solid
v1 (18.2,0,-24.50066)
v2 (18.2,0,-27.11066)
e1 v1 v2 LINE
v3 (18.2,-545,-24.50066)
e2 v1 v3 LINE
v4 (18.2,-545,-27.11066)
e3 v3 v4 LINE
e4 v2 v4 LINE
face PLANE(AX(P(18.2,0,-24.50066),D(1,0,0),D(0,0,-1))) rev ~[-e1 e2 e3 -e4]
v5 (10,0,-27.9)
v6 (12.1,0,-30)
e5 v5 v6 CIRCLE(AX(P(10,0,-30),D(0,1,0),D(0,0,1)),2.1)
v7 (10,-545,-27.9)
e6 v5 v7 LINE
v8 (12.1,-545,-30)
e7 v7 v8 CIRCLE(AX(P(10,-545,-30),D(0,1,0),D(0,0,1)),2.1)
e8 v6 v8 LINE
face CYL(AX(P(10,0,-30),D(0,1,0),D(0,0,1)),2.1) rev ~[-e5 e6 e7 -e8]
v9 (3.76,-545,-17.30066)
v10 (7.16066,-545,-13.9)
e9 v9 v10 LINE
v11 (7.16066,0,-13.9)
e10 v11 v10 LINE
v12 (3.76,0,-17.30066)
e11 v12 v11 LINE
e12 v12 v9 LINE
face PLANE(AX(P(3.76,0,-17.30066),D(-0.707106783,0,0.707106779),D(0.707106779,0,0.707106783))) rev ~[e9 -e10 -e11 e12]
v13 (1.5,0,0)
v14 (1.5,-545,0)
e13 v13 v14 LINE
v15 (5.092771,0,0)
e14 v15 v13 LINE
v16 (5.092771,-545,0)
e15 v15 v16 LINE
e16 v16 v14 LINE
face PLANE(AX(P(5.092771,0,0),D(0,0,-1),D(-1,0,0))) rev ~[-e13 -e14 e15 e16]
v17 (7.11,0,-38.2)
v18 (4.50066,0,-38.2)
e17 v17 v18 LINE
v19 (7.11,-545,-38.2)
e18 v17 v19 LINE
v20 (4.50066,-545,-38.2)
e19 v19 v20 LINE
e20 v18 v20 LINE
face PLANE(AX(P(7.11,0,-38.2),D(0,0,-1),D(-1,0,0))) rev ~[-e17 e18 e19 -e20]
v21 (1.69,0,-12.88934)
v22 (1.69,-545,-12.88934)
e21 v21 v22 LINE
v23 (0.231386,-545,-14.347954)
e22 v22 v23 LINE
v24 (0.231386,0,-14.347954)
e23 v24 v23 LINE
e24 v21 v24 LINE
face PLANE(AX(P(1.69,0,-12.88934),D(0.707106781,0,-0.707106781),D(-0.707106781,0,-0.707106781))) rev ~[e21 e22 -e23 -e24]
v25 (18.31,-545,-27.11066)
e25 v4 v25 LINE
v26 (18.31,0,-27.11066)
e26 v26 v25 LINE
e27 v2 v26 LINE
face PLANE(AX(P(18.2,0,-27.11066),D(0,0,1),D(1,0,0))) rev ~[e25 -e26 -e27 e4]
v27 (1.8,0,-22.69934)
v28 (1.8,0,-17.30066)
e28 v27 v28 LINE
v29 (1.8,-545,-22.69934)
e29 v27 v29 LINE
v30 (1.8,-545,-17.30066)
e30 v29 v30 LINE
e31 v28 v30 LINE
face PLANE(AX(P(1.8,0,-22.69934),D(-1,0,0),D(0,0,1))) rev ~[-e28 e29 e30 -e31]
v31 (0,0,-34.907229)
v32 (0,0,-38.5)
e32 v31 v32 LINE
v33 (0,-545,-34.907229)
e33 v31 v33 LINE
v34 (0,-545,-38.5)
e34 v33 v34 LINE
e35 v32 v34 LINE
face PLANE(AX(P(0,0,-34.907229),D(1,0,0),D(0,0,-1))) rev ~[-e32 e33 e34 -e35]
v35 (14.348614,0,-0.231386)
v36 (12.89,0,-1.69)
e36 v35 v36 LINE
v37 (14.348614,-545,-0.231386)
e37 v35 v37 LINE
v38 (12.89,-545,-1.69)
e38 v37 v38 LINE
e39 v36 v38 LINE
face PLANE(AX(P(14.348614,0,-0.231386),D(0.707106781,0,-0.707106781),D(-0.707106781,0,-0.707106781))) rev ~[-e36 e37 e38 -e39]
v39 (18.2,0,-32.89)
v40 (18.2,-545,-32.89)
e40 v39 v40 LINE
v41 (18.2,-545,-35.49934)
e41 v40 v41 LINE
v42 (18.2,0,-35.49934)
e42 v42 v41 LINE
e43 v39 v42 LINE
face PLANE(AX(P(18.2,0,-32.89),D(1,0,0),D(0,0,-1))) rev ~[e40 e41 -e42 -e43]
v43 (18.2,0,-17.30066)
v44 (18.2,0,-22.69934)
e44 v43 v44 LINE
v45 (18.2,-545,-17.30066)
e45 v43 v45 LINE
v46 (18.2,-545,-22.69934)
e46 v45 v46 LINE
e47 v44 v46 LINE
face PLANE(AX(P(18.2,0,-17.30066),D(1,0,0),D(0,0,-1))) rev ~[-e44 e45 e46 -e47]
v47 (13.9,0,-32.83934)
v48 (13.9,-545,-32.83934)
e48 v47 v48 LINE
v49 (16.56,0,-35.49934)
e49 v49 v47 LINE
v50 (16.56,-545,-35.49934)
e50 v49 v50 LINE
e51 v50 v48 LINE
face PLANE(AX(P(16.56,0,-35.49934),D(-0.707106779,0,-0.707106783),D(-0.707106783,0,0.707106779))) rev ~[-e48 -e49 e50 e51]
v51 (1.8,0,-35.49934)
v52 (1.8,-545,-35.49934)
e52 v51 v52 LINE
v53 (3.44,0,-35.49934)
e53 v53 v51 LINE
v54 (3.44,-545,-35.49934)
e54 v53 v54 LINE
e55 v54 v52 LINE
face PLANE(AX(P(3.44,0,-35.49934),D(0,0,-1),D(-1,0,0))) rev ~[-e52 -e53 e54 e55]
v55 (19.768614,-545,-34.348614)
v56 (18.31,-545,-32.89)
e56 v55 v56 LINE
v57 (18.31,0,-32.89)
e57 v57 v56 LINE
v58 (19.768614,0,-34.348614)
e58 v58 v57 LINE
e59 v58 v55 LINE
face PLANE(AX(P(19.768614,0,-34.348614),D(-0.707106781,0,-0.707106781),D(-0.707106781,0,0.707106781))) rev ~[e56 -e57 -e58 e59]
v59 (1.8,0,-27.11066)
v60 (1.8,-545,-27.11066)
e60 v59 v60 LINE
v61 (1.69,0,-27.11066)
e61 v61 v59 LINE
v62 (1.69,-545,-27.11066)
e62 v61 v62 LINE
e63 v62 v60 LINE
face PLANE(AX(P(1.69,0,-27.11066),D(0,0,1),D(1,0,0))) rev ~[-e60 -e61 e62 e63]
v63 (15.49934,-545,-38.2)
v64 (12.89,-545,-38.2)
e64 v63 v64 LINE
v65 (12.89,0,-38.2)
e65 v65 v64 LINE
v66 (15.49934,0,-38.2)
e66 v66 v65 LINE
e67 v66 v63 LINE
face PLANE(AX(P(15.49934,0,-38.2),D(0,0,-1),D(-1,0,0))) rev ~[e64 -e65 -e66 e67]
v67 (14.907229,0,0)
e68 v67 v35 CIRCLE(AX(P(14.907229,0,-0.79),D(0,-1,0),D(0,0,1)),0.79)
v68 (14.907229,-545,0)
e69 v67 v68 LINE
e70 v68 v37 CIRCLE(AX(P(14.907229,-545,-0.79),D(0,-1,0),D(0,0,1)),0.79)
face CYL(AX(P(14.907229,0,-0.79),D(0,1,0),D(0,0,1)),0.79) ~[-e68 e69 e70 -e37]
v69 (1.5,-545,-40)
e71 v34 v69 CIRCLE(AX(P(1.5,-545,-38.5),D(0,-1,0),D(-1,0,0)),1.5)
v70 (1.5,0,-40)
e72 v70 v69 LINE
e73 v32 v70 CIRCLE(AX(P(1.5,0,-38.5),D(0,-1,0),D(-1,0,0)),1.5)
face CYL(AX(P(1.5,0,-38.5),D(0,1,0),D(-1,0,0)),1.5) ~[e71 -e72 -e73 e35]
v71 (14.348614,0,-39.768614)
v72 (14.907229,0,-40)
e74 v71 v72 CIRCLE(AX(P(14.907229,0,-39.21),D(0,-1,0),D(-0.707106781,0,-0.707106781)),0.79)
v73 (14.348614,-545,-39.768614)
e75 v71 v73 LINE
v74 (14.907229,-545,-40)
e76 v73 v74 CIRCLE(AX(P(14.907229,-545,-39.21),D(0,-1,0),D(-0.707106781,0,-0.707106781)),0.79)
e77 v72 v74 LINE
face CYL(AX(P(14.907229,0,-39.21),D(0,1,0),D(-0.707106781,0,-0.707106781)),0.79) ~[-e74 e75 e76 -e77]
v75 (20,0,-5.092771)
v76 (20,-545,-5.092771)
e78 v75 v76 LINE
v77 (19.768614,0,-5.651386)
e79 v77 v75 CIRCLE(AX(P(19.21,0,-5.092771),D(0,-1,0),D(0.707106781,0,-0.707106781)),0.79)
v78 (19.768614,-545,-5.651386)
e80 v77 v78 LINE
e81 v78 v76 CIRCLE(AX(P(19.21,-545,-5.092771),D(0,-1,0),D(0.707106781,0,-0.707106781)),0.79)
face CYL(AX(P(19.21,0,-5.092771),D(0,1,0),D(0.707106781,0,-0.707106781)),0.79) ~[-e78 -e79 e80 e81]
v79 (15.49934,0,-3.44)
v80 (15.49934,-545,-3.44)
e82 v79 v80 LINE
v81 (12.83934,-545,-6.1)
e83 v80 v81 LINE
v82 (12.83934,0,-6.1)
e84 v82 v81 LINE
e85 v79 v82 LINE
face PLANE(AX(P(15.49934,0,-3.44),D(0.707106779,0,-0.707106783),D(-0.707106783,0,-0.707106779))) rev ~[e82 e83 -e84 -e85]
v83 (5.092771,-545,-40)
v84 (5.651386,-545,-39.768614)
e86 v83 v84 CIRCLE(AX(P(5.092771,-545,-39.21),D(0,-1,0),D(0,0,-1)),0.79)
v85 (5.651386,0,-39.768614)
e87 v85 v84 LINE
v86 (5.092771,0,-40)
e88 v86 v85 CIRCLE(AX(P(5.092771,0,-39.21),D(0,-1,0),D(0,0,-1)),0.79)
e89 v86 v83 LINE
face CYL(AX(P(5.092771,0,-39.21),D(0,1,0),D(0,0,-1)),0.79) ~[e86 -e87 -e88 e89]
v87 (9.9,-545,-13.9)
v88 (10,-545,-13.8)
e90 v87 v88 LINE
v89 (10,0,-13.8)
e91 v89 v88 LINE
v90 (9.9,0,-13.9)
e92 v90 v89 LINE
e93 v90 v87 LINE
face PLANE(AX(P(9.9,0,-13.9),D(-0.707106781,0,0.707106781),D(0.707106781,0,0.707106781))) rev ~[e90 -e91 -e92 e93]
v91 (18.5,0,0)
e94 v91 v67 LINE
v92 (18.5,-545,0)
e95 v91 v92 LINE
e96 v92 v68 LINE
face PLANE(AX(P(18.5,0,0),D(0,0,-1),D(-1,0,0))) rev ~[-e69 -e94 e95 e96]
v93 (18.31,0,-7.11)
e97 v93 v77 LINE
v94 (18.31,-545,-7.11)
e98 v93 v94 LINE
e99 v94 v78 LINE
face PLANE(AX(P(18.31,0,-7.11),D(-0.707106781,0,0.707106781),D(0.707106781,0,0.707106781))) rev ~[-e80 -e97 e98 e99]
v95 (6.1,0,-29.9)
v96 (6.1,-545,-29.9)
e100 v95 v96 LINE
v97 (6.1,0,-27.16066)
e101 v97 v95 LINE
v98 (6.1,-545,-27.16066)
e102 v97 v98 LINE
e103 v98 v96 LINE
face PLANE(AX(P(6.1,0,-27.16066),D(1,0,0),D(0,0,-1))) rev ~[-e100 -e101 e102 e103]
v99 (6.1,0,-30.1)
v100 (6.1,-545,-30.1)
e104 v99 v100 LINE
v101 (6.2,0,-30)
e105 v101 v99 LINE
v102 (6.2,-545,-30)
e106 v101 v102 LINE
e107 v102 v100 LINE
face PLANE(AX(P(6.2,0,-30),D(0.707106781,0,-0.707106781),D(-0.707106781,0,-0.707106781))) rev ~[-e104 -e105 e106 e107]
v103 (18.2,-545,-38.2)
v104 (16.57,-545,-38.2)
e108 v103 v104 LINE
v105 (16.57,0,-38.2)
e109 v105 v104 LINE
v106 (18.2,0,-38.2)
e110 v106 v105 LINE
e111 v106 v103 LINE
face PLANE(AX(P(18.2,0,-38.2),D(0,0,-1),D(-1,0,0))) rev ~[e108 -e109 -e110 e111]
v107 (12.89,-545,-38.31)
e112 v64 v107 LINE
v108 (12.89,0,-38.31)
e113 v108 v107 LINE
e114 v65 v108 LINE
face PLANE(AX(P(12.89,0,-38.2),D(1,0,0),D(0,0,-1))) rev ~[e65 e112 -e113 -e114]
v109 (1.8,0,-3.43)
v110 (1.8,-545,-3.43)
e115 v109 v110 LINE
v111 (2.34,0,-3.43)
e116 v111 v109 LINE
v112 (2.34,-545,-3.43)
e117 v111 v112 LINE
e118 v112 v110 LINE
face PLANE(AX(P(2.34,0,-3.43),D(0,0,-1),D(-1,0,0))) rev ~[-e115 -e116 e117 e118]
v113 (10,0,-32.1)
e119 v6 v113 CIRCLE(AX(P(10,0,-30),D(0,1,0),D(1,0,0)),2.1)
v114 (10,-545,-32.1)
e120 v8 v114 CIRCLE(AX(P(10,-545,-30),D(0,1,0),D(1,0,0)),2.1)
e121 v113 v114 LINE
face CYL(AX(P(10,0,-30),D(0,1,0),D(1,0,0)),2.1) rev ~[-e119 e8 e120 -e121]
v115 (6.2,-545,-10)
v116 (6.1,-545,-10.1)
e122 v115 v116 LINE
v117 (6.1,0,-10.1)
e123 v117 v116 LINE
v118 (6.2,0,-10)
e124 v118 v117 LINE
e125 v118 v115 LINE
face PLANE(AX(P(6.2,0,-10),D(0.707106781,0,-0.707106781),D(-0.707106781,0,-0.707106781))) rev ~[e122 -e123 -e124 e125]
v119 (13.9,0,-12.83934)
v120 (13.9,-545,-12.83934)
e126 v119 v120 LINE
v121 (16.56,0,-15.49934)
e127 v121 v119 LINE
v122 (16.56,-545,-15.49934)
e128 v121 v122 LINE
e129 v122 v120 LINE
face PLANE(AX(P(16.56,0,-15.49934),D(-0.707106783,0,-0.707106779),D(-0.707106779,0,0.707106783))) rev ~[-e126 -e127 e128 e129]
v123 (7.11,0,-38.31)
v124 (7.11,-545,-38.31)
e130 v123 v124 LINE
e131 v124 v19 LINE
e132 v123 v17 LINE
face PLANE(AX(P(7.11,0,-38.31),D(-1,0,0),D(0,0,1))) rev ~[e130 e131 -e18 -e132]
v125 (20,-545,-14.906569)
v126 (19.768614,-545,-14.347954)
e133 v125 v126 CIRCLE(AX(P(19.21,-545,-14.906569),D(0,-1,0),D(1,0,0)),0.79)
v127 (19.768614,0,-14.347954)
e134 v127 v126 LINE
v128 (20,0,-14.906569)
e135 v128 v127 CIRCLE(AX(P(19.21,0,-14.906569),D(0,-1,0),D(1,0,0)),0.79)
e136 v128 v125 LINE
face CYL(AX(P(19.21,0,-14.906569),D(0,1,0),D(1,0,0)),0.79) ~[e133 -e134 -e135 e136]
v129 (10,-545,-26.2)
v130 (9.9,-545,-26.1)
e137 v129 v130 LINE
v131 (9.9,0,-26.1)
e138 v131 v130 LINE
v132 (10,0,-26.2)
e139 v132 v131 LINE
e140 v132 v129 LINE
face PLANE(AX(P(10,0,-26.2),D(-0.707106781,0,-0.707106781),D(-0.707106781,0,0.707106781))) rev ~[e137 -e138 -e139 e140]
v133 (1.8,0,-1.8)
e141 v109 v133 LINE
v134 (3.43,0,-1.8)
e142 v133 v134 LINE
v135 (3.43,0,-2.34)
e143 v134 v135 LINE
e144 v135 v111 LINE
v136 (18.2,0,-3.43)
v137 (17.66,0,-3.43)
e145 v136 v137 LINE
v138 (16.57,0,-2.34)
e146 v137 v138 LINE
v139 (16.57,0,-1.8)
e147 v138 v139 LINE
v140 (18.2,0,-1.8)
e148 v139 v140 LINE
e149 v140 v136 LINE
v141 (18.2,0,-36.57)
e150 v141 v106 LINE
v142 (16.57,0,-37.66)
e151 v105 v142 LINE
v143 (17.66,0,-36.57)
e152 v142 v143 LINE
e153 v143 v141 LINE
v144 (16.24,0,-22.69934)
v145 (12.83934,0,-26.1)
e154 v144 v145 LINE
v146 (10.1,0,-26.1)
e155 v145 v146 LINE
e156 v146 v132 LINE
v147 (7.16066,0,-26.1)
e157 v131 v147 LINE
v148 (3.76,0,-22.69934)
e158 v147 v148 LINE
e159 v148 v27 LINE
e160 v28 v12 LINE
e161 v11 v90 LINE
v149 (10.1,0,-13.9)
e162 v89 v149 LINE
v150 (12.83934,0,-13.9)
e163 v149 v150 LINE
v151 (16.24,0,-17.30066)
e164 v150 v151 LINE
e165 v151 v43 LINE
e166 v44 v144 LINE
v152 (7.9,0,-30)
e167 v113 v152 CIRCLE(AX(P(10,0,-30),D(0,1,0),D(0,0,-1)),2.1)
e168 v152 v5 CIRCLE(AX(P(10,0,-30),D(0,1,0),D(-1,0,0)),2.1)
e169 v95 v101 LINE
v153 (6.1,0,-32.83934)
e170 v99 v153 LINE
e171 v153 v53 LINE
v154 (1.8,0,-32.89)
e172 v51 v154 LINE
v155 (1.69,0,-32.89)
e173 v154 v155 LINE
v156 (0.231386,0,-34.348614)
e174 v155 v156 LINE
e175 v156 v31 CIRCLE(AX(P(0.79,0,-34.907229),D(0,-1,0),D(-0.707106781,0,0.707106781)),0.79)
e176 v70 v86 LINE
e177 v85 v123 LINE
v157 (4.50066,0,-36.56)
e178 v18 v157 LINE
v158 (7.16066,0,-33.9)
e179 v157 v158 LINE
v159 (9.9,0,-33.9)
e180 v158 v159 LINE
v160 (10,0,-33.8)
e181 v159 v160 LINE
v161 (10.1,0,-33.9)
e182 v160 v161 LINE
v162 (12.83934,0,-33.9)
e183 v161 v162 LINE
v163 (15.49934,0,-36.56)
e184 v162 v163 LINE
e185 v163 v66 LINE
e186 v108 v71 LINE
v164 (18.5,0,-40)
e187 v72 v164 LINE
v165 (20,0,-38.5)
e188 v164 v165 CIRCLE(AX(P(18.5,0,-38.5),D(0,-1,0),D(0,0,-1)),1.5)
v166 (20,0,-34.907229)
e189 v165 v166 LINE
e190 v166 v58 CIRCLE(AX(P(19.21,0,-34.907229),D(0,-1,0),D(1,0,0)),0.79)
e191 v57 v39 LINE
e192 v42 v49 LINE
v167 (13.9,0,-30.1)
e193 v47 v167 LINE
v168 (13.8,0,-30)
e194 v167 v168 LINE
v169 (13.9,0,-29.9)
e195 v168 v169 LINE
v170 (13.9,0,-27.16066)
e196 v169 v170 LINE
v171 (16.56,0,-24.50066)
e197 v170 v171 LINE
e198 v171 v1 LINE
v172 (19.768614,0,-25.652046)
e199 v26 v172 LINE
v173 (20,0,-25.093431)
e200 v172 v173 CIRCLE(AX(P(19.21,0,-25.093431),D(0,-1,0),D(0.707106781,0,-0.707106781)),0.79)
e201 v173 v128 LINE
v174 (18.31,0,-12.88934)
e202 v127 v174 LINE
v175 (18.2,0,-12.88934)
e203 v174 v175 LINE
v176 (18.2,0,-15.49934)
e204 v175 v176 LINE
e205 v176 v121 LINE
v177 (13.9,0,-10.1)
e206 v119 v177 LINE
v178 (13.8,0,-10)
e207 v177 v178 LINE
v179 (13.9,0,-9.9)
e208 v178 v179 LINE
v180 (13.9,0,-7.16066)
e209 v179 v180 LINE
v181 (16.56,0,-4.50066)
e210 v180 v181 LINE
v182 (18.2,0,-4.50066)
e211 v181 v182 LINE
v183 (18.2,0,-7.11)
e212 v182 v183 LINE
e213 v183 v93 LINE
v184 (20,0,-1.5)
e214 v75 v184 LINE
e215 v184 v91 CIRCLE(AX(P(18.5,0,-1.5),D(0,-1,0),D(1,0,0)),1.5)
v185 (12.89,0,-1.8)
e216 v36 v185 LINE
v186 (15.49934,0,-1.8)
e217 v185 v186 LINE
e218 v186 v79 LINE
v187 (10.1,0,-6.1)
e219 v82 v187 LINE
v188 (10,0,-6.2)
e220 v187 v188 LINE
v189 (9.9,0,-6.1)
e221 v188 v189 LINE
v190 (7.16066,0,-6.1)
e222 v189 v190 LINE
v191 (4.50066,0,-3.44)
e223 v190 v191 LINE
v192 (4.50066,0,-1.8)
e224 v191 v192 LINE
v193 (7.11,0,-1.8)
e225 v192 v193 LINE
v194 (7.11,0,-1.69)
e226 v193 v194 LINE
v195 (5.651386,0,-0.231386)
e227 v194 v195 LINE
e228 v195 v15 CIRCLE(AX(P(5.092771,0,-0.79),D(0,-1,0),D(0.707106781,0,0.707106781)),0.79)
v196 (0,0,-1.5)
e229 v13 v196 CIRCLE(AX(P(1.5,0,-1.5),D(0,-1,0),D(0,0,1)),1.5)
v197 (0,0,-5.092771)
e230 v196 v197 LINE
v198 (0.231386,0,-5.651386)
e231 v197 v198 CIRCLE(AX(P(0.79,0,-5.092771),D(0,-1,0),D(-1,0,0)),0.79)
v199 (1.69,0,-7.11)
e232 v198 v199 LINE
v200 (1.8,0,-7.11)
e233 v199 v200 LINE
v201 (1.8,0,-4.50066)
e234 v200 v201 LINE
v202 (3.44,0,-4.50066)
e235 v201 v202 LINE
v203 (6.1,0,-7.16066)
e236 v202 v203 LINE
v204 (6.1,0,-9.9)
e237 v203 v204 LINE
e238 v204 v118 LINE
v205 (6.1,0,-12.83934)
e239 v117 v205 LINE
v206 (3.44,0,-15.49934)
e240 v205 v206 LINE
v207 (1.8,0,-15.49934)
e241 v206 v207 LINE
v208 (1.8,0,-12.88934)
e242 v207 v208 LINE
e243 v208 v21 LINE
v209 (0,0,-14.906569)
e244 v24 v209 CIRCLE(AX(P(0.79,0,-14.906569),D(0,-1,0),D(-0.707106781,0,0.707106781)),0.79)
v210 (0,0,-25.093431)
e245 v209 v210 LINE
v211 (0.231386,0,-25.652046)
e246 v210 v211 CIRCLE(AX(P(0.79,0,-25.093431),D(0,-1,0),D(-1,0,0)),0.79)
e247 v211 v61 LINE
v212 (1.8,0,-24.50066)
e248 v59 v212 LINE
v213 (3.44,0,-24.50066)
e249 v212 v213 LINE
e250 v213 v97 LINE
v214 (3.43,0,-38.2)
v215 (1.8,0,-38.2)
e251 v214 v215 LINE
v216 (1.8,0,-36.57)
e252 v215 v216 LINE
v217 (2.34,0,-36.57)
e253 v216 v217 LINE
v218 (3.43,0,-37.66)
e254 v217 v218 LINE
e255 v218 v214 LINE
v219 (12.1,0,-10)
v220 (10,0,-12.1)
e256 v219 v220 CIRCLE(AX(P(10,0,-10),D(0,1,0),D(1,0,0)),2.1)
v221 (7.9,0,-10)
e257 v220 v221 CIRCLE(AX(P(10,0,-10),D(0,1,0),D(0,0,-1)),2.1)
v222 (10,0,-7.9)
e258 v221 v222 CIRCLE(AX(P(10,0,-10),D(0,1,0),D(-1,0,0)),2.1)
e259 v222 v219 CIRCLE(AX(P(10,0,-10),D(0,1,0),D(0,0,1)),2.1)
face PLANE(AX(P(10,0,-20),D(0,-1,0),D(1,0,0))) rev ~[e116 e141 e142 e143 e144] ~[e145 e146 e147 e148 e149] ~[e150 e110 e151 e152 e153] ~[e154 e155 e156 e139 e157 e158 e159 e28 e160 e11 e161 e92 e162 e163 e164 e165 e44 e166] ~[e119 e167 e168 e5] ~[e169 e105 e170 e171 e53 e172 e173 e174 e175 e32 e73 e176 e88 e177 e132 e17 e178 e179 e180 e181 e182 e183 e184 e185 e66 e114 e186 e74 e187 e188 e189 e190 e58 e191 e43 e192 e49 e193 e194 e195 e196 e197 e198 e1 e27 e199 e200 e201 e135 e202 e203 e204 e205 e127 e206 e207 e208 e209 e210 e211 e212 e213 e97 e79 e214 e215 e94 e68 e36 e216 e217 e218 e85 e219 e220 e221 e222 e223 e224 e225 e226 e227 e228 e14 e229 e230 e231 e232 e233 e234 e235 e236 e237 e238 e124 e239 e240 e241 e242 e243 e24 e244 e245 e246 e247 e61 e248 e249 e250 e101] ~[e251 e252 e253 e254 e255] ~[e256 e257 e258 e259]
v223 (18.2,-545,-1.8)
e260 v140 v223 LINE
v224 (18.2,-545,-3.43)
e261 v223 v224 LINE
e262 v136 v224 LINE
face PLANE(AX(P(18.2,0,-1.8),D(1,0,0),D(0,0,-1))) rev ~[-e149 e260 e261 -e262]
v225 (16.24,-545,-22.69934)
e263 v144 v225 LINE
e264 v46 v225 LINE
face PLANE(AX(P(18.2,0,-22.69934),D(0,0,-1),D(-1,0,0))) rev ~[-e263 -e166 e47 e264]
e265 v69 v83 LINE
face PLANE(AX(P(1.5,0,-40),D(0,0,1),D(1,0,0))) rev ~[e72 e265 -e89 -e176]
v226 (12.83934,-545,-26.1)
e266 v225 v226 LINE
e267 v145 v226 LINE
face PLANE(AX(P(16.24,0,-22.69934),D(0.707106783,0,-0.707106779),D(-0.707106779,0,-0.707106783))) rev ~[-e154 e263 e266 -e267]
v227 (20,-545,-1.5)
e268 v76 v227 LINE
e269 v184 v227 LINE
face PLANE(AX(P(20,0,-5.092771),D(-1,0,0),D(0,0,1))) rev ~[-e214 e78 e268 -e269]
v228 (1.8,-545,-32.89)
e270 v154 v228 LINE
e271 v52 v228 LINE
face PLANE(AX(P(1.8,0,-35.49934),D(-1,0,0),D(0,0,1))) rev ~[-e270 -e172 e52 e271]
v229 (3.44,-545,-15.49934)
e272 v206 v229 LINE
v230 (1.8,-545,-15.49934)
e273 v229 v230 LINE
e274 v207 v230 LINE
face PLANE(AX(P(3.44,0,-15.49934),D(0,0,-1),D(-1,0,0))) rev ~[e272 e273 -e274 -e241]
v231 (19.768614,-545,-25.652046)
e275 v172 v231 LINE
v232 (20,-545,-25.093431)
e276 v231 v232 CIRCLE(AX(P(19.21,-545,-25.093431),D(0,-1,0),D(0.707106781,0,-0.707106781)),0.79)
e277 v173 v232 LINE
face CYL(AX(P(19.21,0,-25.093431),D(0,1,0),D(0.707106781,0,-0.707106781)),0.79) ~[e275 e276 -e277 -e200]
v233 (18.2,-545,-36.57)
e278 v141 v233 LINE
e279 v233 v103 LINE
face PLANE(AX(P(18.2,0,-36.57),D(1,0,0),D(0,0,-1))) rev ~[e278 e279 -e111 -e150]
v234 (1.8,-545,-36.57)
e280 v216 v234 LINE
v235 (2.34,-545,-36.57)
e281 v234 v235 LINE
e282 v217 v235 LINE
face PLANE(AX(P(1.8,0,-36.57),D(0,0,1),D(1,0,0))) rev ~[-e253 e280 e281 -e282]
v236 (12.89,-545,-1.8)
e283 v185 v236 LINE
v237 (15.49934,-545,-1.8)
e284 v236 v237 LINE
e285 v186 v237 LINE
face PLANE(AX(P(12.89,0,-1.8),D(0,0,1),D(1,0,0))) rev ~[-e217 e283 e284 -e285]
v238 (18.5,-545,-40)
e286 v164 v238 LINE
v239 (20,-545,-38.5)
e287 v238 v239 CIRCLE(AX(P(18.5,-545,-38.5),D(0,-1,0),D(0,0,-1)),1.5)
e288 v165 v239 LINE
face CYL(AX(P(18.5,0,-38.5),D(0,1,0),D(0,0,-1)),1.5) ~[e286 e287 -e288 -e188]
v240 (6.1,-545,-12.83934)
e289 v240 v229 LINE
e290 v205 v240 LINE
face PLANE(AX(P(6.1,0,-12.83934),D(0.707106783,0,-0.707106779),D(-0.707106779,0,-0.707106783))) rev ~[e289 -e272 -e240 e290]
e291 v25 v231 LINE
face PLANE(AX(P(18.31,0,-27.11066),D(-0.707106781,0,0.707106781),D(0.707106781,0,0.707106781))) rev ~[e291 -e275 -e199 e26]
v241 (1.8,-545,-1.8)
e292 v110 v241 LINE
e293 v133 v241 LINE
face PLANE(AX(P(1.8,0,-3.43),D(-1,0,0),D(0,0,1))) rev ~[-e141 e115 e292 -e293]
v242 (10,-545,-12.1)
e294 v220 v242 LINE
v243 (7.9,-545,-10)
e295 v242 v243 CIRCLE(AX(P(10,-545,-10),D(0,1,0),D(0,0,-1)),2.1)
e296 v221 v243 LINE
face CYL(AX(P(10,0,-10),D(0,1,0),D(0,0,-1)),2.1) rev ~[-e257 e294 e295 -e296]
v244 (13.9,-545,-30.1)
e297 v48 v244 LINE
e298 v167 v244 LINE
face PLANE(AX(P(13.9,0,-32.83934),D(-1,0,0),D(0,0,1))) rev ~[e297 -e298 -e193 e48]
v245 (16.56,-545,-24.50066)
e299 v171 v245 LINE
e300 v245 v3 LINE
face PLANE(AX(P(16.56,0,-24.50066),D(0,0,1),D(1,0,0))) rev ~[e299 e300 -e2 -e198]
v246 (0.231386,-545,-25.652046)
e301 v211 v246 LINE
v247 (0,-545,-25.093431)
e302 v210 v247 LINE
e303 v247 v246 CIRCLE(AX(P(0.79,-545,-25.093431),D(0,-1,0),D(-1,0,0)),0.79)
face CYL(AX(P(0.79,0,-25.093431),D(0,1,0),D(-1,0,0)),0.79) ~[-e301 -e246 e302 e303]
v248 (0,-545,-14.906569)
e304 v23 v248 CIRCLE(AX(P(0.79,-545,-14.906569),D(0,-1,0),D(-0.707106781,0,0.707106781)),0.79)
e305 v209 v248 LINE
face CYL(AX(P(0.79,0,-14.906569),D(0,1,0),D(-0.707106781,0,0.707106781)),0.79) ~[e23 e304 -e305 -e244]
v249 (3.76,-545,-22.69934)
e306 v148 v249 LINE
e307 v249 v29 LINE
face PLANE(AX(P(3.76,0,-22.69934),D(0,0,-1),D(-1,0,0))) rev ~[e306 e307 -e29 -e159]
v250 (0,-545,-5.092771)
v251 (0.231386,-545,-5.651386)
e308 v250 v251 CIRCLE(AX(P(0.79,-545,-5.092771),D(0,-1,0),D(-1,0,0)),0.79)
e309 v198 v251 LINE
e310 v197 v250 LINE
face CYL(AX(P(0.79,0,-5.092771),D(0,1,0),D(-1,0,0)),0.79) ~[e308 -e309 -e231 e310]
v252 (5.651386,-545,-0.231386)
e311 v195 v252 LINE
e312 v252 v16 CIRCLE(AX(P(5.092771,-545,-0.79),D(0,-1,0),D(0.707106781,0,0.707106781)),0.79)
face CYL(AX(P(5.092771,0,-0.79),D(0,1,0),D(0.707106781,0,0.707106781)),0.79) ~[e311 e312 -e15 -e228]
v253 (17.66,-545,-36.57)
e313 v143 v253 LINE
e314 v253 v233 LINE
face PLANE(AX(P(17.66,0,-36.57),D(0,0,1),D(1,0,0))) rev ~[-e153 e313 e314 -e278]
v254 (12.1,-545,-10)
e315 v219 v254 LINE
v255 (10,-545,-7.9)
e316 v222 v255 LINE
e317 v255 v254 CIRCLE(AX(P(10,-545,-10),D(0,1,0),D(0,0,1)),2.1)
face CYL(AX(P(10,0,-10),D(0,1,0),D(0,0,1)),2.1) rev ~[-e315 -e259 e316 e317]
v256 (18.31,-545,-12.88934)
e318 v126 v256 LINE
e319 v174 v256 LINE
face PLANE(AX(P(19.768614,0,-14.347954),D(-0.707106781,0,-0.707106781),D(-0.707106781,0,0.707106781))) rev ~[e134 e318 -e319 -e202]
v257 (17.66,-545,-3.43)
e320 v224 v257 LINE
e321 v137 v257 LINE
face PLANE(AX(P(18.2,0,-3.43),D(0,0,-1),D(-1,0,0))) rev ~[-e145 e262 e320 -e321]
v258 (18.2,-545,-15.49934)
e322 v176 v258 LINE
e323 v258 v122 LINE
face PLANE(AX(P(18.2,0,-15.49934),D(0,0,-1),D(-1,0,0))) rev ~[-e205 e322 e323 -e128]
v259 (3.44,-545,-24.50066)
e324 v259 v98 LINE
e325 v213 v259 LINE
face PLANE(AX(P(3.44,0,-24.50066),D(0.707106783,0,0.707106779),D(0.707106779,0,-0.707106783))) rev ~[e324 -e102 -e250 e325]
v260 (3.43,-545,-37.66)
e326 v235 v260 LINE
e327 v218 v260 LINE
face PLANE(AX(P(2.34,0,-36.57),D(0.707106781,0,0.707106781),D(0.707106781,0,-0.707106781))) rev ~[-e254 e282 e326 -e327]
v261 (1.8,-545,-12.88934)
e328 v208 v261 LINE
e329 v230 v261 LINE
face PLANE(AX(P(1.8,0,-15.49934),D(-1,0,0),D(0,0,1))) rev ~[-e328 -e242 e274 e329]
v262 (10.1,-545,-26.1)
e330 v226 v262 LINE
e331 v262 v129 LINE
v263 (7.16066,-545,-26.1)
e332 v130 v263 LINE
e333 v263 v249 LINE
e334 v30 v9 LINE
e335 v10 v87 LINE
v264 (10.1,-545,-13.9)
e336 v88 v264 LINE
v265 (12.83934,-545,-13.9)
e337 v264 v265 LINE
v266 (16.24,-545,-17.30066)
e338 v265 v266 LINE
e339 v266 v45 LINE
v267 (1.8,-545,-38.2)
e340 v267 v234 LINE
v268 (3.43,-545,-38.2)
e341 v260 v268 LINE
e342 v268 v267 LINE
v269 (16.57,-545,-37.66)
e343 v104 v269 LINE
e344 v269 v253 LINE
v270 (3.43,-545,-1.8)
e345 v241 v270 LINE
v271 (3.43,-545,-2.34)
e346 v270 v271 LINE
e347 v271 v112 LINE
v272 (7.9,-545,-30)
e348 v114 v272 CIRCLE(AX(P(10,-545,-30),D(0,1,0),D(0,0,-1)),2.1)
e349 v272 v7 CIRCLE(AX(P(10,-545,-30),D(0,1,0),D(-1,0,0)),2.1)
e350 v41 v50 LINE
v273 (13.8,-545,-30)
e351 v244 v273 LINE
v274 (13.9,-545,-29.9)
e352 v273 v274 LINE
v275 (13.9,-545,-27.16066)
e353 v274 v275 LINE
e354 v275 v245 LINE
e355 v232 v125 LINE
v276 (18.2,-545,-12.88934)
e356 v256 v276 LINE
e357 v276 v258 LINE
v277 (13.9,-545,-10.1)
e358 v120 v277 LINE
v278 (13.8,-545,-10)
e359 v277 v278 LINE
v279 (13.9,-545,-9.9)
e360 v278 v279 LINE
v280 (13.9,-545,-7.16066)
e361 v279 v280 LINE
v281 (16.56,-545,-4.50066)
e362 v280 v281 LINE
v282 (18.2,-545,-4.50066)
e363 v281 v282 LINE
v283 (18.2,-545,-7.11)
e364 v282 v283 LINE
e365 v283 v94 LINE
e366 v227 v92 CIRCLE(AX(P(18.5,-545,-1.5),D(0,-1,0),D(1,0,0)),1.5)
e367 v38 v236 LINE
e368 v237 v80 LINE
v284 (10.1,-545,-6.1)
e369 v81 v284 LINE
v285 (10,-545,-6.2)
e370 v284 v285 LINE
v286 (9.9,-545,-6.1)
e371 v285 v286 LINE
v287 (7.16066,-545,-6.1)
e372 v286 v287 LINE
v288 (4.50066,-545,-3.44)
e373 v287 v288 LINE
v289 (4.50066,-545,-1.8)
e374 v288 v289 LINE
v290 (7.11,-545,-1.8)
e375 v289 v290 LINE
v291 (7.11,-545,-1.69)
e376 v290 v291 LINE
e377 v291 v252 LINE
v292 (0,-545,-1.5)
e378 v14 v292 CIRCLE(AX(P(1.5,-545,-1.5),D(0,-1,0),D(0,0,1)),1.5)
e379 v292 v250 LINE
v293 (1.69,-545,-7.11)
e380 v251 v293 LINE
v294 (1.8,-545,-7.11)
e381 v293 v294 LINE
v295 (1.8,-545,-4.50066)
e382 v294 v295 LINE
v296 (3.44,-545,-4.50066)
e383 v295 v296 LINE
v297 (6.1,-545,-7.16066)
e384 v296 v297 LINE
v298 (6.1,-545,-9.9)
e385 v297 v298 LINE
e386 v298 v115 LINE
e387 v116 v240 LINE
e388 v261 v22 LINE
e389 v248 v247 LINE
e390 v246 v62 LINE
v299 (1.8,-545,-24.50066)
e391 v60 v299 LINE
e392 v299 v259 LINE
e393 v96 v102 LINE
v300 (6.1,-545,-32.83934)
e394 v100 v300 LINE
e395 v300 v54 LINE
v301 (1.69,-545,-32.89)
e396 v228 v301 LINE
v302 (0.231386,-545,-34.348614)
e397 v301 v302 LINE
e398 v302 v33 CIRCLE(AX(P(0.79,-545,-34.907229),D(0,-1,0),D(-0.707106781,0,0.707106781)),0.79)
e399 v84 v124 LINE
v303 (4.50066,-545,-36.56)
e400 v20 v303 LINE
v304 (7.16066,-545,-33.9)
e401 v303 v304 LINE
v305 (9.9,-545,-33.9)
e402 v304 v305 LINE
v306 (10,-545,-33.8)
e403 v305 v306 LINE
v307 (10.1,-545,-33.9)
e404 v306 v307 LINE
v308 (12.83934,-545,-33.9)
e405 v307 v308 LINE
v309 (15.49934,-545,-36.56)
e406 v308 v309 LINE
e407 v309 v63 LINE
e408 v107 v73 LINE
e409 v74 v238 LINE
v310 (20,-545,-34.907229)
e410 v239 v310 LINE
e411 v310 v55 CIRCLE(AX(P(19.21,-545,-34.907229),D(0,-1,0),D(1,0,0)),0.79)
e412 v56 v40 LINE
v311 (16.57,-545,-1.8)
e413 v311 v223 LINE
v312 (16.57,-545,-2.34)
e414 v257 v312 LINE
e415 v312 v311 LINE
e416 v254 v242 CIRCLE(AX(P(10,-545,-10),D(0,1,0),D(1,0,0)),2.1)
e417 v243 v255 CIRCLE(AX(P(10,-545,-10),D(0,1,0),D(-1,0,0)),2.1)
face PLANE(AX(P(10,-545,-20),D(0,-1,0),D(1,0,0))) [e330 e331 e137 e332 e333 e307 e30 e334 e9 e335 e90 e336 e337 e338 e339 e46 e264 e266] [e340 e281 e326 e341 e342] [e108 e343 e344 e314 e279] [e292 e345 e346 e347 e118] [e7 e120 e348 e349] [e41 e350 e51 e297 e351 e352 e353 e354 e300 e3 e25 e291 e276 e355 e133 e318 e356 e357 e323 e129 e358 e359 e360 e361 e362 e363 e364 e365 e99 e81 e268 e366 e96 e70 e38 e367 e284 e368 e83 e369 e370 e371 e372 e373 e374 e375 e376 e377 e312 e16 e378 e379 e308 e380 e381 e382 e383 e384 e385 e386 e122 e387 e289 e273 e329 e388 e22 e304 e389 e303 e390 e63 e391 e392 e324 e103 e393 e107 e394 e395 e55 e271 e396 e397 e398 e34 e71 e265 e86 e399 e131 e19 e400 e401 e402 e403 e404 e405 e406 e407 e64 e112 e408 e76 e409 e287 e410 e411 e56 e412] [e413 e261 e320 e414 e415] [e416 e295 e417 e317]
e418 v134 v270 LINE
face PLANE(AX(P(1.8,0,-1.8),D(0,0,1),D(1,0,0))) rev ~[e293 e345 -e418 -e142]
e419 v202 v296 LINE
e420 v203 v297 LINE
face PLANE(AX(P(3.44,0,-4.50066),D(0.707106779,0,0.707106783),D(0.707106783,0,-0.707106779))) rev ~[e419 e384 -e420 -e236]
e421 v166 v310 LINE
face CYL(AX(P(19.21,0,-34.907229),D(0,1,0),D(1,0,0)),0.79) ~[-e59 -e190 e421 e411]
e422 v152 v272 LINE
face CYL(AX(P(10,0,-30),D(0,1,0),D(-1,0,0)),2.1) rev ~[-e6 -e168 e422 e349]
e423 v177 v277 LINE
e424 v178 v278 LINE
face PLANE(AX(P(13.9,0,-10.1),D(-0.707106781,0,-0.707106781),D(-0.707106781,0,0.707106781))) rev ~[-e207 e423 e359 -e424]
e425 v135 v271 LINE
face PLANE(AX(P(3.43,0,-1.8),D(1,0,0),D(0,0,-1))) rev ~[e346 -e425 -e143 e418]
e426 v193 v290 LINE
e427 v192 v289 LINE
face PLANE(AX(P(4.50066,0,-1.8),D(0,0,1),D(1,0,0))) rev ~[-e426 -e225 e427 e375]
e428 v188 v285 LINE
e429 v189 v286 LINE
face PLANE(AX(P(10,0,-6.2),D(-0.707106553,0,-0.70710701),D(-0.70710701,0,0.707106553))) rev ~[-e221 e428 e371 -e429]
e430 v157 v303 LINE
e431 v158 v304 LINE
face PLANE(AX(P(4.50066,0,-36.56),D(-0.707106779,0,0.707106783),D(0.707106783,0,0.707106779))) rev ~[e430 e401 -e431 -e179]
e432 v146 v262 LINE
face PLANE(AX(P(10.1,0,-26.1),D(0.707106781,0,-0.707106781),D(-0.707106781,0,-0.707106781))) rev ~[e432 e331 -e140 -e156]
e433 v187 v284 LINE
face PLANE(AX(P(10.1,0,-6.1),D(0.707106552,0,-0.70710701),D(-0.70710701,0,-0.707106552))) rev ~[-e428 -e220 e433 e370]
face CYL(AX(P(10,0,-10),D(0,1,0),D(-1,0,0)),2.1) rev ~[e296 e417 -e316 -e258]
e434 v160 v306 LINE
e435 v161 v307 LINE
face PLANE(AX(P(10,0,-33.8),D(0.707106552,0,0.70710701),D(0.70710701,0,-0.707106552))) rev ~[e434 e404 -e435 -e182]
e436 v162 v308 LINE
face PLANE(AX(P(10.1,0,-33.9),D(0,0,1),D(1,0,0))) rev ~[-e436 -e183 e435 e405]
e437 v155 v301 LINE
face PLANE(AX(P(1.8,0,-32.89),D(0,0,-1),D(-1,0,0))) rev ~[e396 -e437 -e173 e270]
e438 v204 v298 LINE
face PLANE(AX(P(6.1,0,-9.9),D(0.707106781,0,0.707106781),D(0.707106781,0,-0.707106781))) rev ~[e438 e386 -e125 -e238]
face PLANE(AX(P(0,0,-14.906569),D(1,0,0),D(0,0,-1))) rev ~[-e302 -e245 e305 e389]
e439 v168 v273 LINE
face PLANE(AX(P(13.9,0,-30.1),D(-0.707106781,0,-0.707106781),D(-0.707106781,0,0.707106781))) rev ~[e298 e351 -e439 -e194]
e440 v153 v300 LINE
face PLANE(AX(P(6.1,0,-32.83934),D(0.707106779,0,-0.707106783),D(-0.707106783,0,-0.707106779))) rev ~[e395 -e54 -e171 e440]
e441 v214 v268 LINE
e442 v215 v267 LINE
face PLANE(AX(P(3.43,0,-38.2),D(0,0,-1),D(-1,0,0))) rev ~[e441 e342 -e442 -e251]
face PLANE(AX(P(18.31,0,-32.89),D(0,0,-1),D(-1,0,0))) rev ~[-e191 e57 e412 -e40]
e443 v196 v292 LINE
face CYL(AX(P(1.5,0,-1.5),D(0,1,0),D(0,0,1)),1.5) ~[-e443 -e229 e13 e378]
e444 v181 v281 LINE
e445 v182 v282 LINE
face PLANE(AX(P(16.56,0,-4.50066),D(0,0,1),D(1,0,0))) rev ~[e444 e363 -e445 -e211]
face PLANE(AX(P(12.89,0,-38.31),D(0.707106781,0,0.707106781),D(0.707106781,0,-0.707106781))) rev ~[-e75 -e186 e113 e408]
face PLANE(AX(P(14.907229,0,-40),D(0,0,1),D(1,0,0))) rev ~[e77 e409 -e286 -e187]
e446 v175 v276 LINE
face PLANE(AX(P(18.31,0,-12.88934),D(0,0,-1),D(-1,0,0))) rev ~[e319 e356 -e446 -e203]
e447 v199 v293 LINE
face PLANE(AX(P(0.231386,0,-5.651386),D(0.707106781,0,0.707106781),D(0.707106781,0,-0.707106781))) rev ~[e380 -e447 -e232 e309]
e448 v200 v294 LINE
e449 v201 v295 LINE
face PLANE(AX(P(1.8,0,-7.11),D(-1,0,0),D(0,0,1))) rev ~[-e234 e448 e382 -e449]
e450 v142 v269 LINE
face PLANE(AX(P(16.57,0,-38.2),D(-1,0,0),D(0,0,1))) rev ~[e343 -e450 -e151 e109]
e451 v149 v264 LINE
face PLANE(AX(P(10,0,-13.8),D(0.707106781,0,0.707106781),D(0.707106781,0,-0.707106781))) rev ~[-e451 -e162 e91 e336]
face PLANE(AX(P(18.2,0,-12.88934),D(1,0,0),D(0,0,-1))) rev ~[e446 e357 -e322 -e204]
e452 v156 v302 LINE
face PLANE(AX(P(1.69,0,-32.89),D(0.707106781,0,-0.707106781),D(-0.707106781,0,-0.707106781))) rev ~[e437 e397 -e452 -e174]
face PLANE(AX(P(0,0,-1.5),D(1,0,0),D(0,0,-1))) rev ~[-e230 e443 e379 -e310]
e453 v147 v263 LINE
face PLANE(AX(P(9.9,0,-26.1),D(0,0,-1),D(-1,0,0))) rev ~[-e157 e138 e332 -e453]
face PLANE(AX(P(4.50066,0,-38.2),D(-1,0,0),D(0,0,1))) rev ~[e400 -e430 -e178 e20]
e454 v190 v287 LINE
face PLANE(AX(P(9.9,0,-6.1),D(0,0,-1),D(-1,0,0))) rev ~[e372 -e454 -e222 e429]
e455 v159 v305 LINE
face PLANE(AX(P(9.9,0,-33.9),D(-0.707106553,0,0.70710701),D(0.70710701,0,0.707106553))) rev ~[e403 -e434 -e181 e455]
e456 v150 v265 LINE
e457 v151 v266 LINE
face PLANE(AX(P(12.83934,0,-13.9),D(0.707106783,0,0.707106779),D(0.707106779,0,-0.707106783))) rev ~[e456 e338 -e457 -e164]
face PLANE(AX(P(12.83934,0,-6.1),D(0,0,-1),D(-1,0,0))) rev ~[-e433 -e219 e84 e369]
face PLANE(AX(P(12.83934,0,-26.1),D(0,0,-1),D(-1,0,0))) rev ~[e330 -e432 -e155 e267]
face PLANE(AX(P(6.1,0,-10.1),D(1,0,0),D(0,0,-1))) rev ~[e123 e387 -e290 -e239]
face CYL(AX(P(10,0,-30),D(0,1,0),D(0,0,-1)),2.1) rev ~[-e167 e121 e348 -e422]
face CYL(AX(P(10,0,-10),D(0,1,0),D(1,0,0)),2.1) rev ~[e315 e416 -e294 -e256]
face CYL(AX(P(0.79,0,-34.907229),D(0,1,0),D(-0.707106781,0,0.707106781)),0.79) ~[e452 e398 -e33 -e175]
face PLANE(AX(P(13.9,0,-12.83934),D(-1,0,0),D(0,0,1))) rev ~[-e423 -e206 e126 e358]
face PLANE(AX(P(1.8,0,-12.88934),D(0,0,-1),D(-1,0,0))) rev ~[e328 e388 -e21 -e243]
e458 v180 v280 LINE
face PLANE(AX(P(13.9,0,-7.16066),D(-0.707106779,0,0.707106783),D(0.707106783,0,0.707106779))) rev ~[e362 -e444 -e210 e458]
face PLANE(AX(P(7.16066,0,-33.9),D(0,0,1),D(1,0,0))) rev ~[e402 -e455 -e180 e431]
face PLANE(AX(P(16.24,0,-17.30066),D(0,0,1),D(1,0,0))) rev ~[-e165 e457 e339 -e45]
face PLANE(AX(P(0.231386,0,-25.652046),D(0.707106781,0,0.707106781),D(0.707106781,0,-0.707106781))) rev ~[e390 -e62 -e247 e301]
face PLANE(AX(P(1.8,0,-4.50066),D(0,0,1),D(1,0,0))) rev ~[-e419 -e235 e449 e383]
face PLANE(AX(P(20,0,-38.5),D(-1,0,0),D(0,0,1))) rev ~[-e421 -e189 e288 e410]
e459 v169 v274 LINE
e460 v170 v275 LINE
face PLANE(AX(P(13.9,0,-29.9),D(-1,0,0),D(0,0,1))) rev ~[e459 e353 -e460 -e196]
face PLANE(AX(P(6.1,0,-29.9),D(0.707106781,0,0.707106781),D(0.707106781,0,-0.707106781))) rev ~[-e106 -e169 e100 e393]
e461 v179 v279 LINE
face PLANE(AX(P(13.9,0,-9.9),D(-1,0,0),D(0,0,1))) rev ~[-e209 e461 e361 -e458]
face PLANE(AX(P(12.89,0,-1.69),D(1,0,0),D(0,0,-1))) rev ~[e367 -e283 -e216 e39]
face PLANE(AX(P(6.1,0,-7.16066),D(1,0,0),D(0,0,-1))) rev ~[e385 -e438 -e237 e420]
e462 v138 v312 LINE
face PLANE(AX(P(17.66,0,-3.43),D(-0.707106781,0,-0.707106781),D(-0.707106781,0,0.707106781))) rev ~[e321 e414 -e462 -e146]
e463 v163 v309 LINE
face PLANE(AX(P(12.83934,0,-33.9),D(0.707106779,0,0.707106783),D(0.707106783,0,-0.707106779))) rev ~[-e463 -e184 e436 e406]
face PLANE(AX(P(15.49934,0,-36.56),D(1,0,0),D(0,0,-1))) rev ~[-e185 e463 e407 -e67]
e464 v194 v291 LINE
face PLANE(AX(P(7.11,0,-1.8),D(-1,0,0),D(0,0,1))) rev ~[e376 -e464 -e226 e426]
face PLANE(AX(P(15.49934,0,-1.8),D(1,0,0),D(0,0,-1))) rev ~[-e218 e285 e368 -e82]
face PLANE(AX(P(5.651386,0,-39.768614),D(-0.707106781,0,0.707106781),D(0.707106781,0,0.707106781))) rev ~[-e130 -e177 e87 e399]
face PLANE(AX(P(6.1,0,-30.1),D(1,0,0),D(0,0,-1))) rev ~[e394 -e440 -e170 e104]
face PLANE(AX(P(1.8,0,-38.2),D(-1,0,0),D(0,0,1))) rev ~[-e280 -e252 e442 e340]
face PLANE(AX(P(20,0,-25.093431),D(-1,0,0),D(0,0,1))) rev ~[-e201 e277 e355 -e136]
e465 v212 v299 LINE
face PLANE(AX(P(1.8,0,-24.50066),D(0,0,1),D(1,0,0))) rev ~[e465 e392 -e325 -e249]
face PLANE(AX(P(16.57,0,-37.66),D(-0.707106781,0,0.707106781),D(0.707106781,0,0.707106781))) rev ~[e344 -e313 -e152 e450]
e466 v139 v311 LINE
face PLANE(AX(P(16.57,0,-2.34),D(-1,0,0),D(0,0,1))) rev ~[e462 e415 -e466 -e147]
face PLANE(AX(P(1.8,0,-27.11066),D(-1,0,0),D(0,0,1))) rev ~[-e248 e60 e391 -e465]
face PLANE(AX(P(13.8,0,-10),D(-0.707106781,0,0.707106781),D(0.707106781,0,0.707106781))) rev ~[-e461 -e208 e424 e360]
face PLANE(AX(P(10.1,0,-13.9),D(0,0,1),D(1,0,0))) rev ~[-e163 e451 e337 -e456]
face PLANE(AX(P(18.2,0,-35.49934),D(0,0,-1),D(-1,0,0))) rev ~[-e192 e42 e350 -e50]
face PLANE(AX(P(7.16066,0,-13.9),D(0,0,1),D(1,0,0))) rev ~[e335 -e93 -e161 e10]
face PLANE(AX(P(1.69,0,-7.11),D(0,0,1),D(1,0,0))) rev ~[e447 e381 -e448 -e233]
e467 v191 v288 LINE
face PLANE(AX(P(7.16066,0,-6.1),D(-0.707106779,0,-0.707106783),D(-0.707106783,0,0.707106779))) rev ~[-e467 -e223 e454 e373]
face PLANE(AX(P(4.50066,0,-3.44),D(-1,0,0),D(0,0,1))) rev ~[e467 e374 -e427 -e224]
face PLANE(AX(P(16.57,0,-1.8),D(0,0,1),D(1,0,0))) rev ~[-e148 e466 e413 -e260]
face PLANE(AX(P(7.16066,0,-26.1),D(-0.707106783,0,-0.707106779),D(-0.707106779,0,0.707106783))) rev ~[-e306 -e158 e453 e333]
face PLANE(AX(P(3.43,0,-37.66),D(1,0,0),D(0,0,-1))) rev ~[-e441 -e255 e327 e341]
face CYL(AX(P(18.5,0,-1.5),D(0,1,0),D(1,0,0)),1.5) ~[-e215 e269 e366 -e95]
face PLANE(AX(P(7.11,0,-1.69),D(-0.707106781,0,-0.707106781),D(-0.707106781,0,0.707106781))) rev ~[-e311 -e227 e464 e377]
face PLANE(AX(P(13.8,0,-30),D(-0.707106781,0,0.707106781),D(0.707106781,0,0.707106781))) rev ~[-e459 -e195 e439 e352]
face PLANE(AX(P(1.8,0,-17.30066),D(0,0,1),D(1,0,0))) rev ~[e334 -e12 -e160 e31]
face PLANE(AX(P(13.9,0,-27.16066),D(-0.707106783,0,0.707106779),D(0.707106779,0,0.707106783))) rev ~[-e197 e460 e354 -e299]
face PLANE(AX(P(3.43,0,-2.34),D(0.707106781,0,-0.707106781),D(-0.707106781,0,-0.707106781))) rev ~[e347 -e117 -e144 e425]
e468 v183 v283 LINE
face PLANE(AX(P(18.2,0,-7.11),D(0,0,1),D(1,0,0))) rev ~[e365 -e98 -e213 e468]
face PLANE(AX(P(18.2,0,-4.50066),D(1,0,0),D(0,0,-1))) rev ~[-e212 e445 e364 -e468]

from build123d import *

# Parameters (mm, degrees)
F2_DEPTH = 545


with BuildPart() as f2:
    # F0 (on Front) → F2 (new body)
    with BuildSketch(Plane.XZ):
        with BuildLine():
            Line((5.0927712857, 0), (1.5, 0))
            ThreePointArc((1.5, 0), (0.4393398282, -0.4393398282), (0, -1.5))
            Line((0, -1.5), (0, -5.0927712857))
            ThreePointArc((0, -5.0927712857), (0.0601351693, -5.3950911973), (0.2313856429, -5.6513856429))
            Line((0.2313856429, -5.6513856429), (1.69, -7.11))
            Line((1.69, -7.11), (1.8, -7.11))
            Line((1.8, -7.11), (1.8, -4.5006601718))
            Line((1.8, -4.5006601718), (3.44, -4.5006601718))
            Line((3.44, -4.5006601718), (6.1000000155, -7.1606601718))
            Line((6.1000000155, -7.1606601718), (6.1000000155, -9.9))
            Line((6.1000000155, -9.9), (6.2000000155, -10))
            Line((6.2000000155, -10), (6.1000000155, -10.1))
            Line((6.1000000155, -10.1), (6.1000000155, -12.8393398605))
            Line((6.1000000155, -12.8393398605), (3.44, -15.4993398916))
            Line((3.44, -15.4993398916), (1.8, -15.4993398916))
            Line((1.8, -15.4993398916), (1.8, -12.8893398916))
            Line((1.8, -12.8893398916), (1.69, -12.8893398916))
            Line((1.69, -12.8893398916), (0.2313856429, -14.3479542487))
            ThreePointArc((0.2313856429, -14.3479542487), (0.0601351693, -14.6042486943), (0, -14.9065686059))
            Line((0, -14.9065686059), (0, -20))
            Line((0, -20), (0, -25.0934313941))
            ThreePointArc((0, -25.0934313941), (0.0601351693, -25.3957513057), (0.2313856429, -25.6520457513))
            Line((0.2313856429, -25.6520457513), (1.69, -27.1106601084))
            Line((1.69, -27.1106601084), (1.8, -27.1106601084))
            Line((1.8, -27.1106601084), (1.8, -24.5006601084))
            Line((1.8, -24.5006601084), (3.44, -24.5006601084))
            Line((3.44, -24.5006601084), (6.1000000155, -27.1606601395))
            Line((6.1000000155, -27.1606601395), (6.1000000155, -29.9))
            Line((6.1000000155, -29.9), (6.2000000155, -30))
            Line((6.2000000155, -30), (6.1000000155, -30.1))
            Line((6.1000000155, -30.1), (6.1000000155, -32.8393398282))
            Line((6.1000000155, -32.8393398282), (3.44, -35.4993398282))
            Line((3.44, -35.4993398282), (1.8, -35.4993398282))
            Line((1.8, -35.4993398282), (1.8, -32.89))
            Line((1.8, -32.89), (1.69, -32.89))
            Line((1.69, -32.89), (0.2313856429, -34.3486143571))
            ThreePointArc((0.2313856429, -34.3486143571), (0.0601351693, -34.6049088027), (0, -34.9072287143))
            Line((0, -34.9072287143), (0, -38.5))
            ThreePointArc((0, -38.5), (0.4393398282, -39.5606601718), (1.5, -40))
            Line((1.5, -40), (5.0927712857, -40))
            ThreePointArc((5.0927712857, -40), (5.3950911973, -39.9398648307), (5.6513856429, -39.7686143571))
            Line((5.6513856429, -39.7686143571), (7.11, -38.31))
            Line((7.11, -38.31), (7.11, -38.2))
            Line((7.11, -38.2), (4.5006601718, -38.2))
            Line((4.5006601718, -38.2), (4.5006601718, -36.56))
            Line((4.5006601718, -36.56), (7.1606601873, -33.9))
            Line((7.1606601873, -33.9), (9.9000000155, -33.9))
            Line((9.9000000155, -33.9), (10.0000000478, -33.8000000323))
            Line((10.0000000478, -33.8000000323), (10.1000000802, -33.9))
            Line((10.1000000802, -33.9), (12.8393399084, -33.9))
            Line((12.8393399084, -33.9), (15.4993399239, -36.56))
            Line((15.4993399239, -36.56), (15.4993399239, -38.2))
            Line((15.4993399239, -38.2), (12.8900000957, -38.2))
            Line((12.8900000957, -38.2), (12.8900000957, -38.31))
            Line((12.8900000957, -38.31), (14.3486144528, -39.7686143571))
            ThreePointArc((14.3486144528, -39.7686143571), (14.6049088984, -39.9398648307), (14.90722881, -40))
            Line((14.90722881, -40), (18.5000000957, -40))
            ThreePointArc((18.5000000957, -40), (19.5606602675, -39.5606601718), (20.0000000957, -38.5))
            Line((20.0000000957, -38.5), (20.0000000957, -34.9072287143))
            ThreePointArc((20.0000000957, -34.9072287143), (19.9398649264, -34.6049088027), (19.7686144528, -34.3486143571))
            Line((19.7686144528, -34.3486143571), (18.3100000957, -32.89))
            Line((18.3100000957, -32.89), (18.2000000957, -32.89))
            Line((18.2000000957, -32.89), (18.2000000957, -35.4993398282))
            Line((18.2000000957, -35.4993398282), (16.5600000957, -35.4993398282))
            Line((16.5600000957, -35.4993398282), (13.9000000802, -32.8393398282))
            Line((13.9000000802, -32.8393398282), (13.9000000802, -30.1))
            Line((13.9000000802, -30.1), (13.8000000802, -30))
            Line((13.8000000802, -30), (13.9000000802, -29.9))
            Line((13.9000000802, -29.9), (13.9000000802, -27.1606601395))
            Line((13.9000000802, -27.1606601395), (16.5600000957, -24.5006601084))
            Line((16.5600000957, -24.5006601084), (18.2000000957, -24.5006601084))
            Line((18.2000000957, -24.5006601084), (18.2000000957, -27.1106601084))
            Line((18.2000000957, -27.1106601084), (18.3100000957, -27.1106601084))
            Line((18.3100000957, -27.1106601084), (19.7686144528, -25.6520457513))
            ThreePointArc((19.7686144528, -25.6520457513), (19.9398649264, -25.3957513057), (20.0000000957, -25.0934313941))
            Line((20.0000000957, -25.0934313941), (20.0000000957, -20))
            Line((20.0000000957, -20), (20.0000000957, -14.9065686059))
            ThreePointArc((20.0000000957, -14.9065686059), (19.9398649264, -14.6042486943), (19.7686144528, -14.3479542487))
            Line((19.7686144528, -14.3479542487), (18.3100000957, -12.8893398916))
            Line((18.3100000957, -12.8893398916), (18.2000000957, -12.8893398916))
            Line((18.2000000957, -12.8893398916), (18.2000000957, -15.4993398916))
            Line((18.2000000957, -15.4993398916), (16.5600000957, -15.4993398916))
            Line((16.5600000957, -15.4993398916), (13.9000000802, -12.8393398605))
            Line((13.9000000802, -12.8393398605), (13.9000000802, -10.1))
            Line((13.9000000802, -10.1), (13.8000000802, -10))
            Line((13.8000000802, -10), (13.9000000802, -9.9))
            Line((13.9000000802, -9.9), (13.9000000802, -7.1606601718))
            Line((13.9000000802, -7.1606601718), (16.5600000957, -4.5006601718))
            Line((16.5600000957, -4.5006601718), (18.2000000957, -4.5006601718))
            Line((18.2000000957, -4.5006601718), (18.2000000957, -7.11))
            Line((18.2000000957, -7.11), (18.3100000957, -7.11))
            Line((18.3100000957, -7.11), (19.7686144528, -5.6513856429))
            ThreePointArc((19.7686144528, -5.6513856429), (19.9398649264, -5.3950911973), (20.0000000957, -5.0927712857))
            Line((20.0000000957, -5.0927712857), (20.0000000957, -1.5))
            ThreePointArc((20.0000000957, -1.5), (19.5606602675, -0.4393398282), (18.5000000957, 0))
            Line((18.5000000957, 0), (14.90722881, 0))
            ThreePointArc((14.90722881, 0), (14.6049088984, -0.0601351693), (14.3486144528, -0.2313856429))
            Line((14.3486144528, -0.2313856429), (12.8900000957, -1.69))
            Line((12.8900000957, -1.69), (12.8900000957, -1.8))
            Line((12.8900000957, -1.8), (15.4993399239, -1.8))
            Line((15.4993399239, -1.8), (15.4993399239, -3.44))
            Line((15.4993399239, -3.44), (12.8393399084, -6.1))
            Line((12.8393399084, -6.1), (10.1000000802, -6.1))
            Line((10.1000000802, -6.1), (10.0000000478, -6.1999999677))
            Line((10.0000000478, -6.1999999677), (9.9000000155, -6.1))
            Line((9.9000000155, -6.1), (7.1606601873, -6.1))
            Line((7.1606601873, -6.1), (4.5006601718, -3.44))
            Line((4.5006601718, -3.44), (4.5006601718, -1.8))
            Line((4.5006601718, -1.8), (7.11, -1.8))
            Line((7.11, -1.8), (7.11, -1.69))
            Line((7.11, -1.69), (5.6513856429, -0.2313856429))
            ThreePointArc((5.6513856429, -0.2313856429), (5.3950911973, -0.0601351693), (5.0927712857, 0))
        make_face()
        Polygon((1.8, -38.2), (1.8, -36.57), (2.34, -36.57), (3.43, -37.66), (3.43, -38.2), align=None, mode=Mode.SUBTRACT)
        with BuildLine():
            ThreePointArc((10.0000000478, -27.9), (11.4849242883, -28.5150757595), (12.1000000478, -30))
            ThreePointArc((12.1000000478, -30), (11.4849242883, -31.4849242405), (10.0000000478, -32.1))
            ThreePointArc((10.0000000478, -32.1), (8.5150758074, -31.4849242405), (7.9000000478, -30))
            ThreePointArc((7.9000000478, -30), (8.5150758074, -28.5150757595), (10.0000000478, -27.9))
        make_face(mode=Mode.SUBTRACT)
        Polygon((17.6600000957, -36.57), (18.2000000957, -36.57), (18.2000000957, -38.2), (16.5700000957, -38.2), (16.5700000957, -37.66), align=None, mode=Mode.SUBTRACT)
        Polygon((9.9000000478, -13.9000000323), (10.0000000478, -13.8000000323), (10.1000000478, -13.9000000323), (12.8393399084, -13.9000000323), (16.2400000478, -17.3006601916), (18.2000000478, -17.3006601916), (18.2000000478, -20), (18.2000000478, -22.6993398084), (16.2400000478, -22.6993398084), (12.8393399084, -26.0999999677), (10.1000000478, -26.0999999677), (10.0000000478, -26.1999999677), (9.9000000478, -26.0999999677), (7.1606601873, -26.0999999677), (3.7600000478, -22.6993398084), (1.8000000478, -22.6993398084), (1.8000000478, -20), (1.8000000478, -17.3006601916), (3.7600000478, -17.3006601916), (7.1606601873, -13.9000000323), align=None, mode=Mode.SUBTRACT)
        Polygon((1.8, -3.43), (1.8, -1.8), (3.43, -1.8), (3.43, -2.34), (2.34, -3.43), align=None, mode=Mode.SUBTRACT)
        with BuildLine():
            ThreePointArc((7.9000000478, -10), (8.5150758074, -8.5150757595), (10.0000000478, -7.9))
            ThreePointArc((10.0000000478, -7.9), (11.4849242883, -8.5150757595), (12.1000000478, -10))
            ThreePointArc((12.1000000478, -10), (11.4849242883, -11.4849242405), (10.0000000478, -12.1))
            ThreePointArc((10.0000000478, -12.1), (8.5150758074, -11.4849242405), (7.9000000478, -10))
        make_face(mode=Mode.SUBTRACT)
        Polygon((16.5700000957, -2.34), (16.5700000957, -1.8), (18.2000000957, -1.8), (18.2000000957, -3.43), (17.6600000957, -3.43), align=None, mode=Mode.SUBTRACT)
    extrude(amount=F2_DEPTH)


solid = f2.part
